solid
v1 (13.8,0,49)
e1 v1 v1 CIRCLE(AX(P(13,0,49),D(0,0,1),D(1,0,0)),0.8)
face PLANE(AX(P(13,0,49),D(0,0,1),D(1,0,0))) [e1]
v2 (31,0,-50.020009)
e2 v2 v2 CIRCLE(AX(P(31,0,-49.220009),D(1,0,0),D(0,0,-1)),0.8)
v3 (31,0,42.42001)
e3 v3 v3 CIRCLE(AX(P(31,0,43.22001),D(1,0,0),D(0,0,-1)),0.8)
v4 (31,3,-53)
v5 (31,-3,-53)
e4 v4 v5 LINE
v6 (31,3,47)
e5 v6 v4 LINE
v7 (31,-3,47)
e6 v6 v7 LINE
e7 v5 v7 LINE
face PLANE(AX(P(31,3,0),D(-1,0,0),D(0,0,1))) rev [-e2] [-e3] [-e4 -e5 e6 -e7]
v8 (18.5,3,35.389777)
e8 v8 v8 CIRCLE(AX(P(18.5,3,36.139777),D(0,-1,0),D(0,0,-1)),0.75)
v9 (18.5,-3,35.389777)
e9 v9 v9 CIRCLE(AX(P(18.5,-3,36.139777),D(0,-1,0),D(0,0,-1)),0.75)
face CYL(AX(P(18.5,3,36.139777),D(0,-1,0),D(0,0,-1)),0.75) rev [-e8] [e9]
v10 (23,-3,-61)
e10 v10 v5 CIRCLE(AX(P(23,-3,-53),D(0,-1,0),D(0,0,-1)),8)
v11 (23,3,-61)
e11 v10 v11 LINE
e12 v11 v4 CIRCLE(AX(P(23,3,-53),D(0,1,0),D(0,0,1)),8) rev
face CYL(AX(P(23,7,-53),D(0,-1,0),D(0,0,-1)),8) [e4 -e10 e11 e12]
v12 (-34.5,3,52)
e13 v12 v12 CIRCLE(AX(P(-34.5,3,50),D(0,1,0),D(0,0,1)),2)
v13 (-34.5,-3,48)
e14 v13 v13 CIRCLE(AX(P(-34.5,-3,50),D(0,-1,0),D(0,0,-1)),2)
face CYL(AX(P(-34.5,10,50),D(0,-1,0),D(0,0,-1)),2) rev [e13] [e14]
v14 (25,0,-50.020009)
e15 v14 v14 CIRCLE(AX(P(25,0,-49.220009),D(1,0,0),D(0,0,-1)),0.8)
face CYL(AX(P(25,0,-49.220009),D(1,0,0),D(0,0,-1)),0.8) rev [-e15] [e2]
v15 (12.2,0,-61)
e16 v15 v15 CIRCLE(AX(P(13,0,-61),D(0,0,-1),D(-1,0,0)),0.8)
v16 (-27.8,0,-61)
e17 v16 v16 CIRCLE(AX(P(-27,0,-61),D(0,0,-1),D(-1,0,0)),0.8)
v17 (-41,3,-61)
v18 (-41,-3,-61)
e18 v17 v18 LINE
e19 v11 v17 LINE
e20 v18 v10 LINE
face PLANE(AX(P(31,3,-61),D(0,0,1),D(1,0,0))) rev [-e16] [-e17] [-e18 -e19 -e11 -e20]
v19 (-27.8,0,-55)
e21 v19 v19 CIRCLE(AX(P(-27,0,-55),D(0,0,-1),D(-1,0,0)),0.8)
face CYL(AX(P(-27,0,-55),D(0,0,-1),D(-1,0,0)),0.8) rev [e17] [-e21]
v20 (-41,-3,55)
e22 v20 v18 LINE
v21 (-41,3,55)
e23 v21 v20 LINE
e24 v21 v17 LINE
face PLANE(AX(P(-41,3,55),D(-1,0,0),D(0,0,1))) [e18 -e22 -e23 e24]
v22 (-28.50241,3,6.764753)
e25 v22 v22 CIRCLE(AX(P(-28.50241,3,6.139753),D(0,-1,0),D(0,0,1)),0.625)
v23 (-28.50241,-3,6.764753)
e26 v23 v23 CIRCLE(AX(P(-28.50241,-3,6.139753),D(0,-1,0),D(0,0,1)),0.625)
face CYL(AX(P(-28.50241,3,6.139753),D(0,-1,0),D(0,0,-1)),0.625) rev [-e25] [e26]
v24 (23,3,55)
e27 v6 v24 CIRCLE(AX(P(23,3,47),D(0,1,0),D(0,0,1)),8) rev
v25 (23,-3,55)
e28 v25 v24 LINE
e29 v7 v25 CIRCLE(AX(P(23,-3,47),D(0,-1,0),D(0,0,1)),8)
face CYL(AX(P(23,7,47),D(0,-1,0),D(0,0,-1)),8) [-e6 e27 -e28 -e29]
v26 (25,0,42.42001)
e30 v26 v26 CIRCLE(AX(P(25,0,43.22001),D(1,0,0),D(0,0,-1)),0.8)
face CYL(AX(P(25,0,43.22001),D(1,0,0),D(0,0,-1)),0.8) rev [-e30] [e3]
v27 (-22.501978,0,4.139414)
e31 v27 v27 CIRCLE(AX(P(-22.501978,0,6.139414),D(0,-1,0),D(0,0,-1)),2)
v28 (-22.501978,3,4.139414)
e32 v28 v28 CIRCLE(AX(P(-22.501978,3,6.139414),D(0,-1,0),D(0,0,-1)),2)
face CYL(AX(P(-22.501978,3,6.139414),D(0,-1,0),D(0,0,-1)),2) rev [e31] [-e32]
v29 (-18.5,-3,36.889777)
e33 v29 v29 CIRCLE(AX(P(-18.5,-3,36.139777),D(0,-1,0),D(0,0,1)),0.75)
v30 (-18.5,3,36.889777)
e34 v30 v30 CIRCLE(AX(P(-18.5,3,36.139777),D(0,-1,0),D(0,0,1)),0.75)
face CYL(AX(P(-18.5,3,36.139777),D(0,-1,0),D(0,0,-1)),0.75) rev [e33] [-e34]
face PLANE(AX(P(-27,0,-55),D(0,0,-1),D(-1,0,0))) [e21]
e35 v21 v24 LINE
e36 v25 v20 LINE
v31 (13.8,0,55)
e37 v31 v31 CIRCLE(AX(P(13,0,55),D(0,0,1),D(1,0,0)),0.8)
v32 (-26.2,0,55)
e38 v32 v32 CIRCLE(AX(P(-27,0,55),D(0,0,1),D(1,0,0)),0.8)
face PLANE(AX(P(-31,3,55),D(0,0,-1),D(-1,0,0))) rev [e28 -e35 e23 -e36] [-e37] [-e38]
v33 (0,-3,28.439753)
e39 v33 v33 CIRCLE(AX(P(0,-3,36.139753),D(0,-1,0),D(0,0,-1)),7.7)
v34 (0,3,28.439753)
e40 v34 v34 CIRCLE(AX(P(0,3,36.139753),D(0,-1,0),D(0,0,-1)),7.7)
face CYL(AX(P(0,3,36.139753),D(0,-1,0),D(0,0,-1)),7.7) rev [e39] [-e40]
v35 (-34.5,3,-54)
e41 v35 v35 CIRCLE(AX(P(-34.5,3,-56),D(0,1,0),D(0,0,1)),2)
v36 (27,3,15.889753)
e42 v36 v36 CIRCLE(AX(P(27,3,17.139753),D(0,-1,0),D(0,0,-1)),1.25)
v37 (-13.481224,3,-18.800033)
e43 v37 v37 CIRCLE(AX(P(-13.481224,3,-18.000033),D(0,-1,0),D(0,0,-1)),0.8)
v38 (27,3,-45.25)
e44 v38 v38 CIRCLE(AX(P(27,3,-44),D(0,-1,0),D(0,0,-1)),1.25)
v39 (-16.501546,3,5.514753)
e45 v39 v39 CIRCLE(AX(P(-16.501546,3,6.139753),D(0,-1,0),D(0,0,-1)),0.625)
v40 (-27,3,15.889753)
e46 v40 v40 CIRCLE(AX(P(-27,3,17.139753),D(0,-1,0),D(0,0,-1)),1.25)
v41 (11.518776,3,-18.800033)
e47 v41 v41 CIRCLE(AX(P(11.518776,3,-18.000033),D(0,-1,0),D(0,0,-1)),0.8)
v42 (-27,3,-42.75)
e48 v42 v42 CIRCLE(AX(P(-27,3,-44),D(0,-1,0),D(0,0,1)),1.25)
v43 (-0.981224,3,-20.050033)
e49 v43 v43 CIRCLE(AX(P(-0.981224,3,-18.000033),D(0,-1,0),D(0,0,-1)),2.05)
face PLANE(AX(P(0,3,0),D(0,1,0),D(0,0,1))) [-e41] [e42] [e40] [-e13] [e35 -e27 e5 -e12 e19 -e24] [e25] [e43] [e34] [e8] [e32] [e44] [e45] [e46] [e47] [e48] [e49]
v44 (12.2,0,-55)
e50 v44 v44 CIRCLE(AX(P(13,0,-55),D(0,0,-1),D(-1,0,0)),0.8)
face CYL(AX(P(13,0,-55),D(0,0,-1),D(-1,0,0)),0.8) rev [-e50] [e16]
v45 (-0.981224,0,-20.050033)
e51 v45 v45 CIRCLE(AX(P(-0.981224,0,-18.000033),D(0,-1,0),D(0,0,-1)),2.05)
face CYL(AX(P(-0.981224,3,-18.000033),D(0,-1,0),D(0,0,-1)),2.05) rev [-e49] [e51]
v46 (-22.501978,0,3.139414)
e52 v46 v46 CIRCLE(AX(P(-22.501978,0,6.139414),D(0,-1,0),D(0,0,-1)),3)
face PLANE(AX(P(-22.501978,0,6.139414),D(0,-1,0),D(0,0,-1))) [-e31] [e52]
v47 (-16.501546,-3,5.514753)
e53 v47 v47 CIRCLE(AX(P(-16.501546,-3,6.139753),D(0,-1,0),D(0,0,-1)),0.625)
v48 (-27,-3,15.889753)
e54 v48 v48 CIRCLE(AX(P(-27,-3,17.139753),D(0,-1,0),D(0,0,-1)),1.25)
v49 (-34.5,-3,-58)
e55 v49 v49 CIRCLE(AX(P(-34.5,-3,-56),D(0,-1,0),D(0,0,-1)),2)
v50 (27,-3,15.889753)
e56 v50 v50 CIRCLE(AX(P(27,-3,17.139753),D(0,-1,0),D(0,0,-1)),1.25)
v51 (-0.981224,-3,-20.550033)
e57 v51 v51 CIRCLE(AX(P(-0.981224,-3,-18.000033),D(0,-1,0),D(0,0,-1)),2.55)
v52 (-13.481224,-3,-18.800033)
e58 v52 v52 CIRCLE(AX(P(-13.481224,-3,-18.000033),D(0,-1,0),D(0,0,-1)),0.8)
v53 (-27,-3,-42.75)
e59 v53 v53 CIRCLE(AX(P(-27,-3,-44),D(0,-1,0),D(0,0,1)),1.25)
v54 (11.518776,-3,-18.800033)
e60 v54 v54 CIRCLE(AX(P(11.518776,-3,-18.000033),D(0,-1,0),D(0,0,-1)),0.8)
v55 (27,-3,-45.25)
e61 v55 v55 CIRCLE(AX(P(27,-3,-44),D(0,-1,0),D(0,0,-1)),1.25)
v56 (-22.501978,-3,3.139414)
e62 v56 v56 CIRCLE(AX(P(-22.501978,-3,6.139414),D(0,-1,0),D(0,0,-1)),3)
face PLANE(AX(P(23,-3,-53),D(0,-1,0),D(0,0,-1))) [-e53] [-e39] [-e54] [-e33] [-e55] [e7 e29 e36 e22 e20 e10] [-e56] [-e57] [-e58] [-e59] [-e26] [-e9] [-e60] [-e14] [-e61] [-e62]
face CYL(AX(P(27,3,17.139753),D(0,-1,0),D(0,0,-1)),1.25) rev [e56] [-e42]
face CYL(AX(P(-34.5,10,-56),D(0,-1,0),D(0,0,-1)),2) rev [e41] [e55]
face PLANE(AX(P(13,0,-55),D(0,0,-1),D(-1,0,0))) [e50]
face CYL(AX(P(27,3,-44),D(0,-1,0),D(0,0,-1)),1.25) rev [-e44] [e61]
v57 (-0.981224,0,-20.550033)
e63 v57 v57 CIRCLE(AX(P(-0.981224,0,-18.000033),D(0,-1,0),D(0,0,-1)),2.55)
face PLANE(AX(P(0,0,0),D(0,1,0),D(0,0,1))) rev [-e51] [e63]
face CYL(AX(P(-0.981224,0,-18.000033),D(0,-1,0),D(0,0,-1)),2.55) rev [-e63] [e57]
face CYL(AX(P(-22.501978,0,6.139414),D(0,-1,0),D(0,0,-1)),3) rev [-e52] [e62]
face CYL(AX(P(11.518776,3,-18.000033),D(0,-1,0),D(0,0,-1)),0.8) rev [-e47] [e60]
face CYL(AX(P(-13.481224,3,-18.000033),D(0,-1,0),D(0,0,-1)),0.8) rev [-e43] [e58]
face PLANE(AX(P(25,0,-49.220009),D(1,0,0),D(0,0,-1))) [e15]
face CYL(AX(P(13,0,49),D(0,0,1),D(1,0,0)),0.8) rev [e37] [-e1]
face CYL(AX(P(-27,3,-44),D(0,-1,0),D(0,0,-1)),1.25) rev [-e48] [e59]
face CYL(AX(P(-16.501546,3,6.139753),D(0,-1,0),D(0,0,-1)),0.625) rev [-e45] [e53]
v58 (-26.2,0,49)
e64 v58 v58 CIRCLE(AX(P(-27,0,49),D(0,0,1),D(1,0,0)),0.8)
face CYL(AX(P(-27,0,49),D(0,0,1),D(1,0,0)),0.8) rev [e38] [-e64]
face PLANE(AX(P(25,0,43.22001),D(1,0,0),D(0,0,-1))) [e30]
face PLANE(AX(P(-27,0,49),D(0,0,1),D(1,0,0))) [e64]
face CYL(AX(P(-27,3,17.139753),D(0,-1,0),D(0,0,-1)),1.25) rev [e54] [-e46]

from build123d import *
from build123d.topology import SkipClean

# Parameters (mm, degrees)
SKETCH_1_W           = 20
SKETCH_1_H           = 44
EXTRUDE_1_DEPTH      = 3
SKETCH_2_R           = 0.8
CUT_EXTRUDE_1_DEPTH  = 3
SKETCH_3_W           = 21
SKETCH_3_H           = 44
EXTRUDE_3_DEPTH      = 3
SKETCH_4_W           = 62
SKETCH_4_H           = 25
EXTRUDE_4_DEPTH      = 3
SKETCH_5_R           = 2
SKETCH_5_W           = 62.003092034
SKETCH_5_H           = 2.997788852
CUT_EXTRUDE_2_DEPTH  = 3
SKETCH_6_W           = 62
SKETCH_6_H           = 20
EXTRUDE_5_DEPTH      = 3
SKETCH_7_R           = 0.8
SKETCH_7_R_2         = 0.25
CUT_EXTRUDE_4_DEPTH  = 3
SKETCH_8_R           = 0.8
EXTRUDE_6_DEPTH      = 3
CUT_EXTRUDE_5_DEPTH  = 3
SKETCH_15_R          = 1.5
CUT_EXTRUDE_6_DEPTH  = 3
SKETCH_24_W          = 62
SKETCH_24_H          = 13
EXTRUDE_7_DEPTH      = 3
SKETCH_25_W          = 62
SKETCH_25_H          = 15
SKETCH_25_R          = 1.5
EXTRUDE_8_DEPTH      = 3
SKETCH_26_R          = 1.5
CUT_EXTRUDE_7_DEPTH  = 3
SKETCH_31_R          = 1.5
EXTRUDE_10_DEPTH     = 3
SKETCH_36_R          = 7.7
CUT_EXTRUDE_12_DEPTH = 3
SKETCH_45_R          = 1.05
CUT_EXTRUDE_13_DEPTH = 3
SKETCH_50_R          = 1.999999997
CUT_EXTRUDE_14_DEPTH = 3
EXTRUDE_START        = -3
SKETCH_51_R          = 1.999999997
EXTRUDE_11_DEPTH     = 3
SKETCH_52_W          = 62
SKETCH_52_H          = 5
EXTRUDE_12_DEPTH     = 3
SKETCH_53_W          = 10
SKETCH_53_H          = 116
EXTRUDE_13_DEPTH     = 3
SKETCH_54_R          = 2
CUT_EXTRUDE_15_DEPTH = 10
CUT_EXTRUDE_17_DEPTH = 7
SKETCH_57_R          = 7.7
SKETCH_57_R_2        = 1.5
SKETCH_57_R_3        = 2
SKETCH_57_R_4        = 1.500025758
SKETCH_57_R_5        = 1.05
SKETCH_57_R_6        = 0.8
SKETCH_57_R_7        = 0.25
SKETCH_57_R_8        = 0.225
EXTRUDE_14_DEPTH     = 3
SKETCH_58_R          = 1
CUT_EXTRUDE_18_DEPTH = 6
SKETCH_59_R          = 1
CUT_EXTRUDE_19_DEPTH = 6
CUT_EXTRUDE_START    = -6
SKETCH_60_R          = 1
CUT_EXTRUDE_20_DEPTH = 6
SKETCH_61_R          = 3
CUT_EXTRUDE_21_DEPTH = 3
SKETCH_62_R          = 2
CUT_EXTRUDE_22_DEPTH = 3
SKETCH_63_R          = 2.55
CUT_EXTRUDE_23_DEPTH = 3
SKETCH_64_R          = 2.05
CUT_EXTRUDE_24_DEPTH = 3
SKETCH_65_R          = 2
EXTRUDE_15_DEPTH     = 6
SKETCH_66_R          = 1
CUT_EXTRUDE_25_DEPTH = 6
SKETCH_67_R          = 2.932086284
SKETCH_67_R_2        = 2.55
EXTRUDE_16_DEPTH     = 3
EXTRUDE_START_2      = -6
SKETCH_68_R          = 1.5
SKETCH_68_R_2        = 1.25
SKETCH_68_R_3        = 1
SKETCH_68_R_4        = 0.75
SKETCH_68_R_5        = 1.05
SKETCH_68_R_6        = 1.6
EXTRUDE_17_DEPTH     = 6
SKETCH_69_R          = 0.8
SKETCH_69_R_2        = 0.625
SKETCH_69_R_3        = 1
EXTRUDE_18_DEPTH     = 6
SKETCH_70_R          = 1
SKETCH_70_R_2        = 0.8
EXTRUDE_19_DEPTH     = 6
SKETCH_71_R          = 1
SKETCH_71_R_2        = 0.8
EXTRUDE_20_DEPTH     = 6
SKETCH_72_R          = 1
SKETCH_72_R_2        = 0.8
EXTRUDE_21_DEPTH     = 6
SKETCH_73_R          = 0.947367803
SKETCH_73_R_2        = 0.960169645
EXTRUDE_22_DEPTH     = 6
SKETCH_74_R          = 0.8
CUT_EXTRUDE_26_DEPTH = 6


with BuildPart() as part:
    # Эскиз1 → Бобышка-Вытянуть1 (new body)
    with BuildSketch(Plane(origin=(0, 0, 0), x_dir=(1, 0, 0), z_dir=(0, 1, 0))):
        Rectangle(SKETCH_1_W, SKETCH_1_H)
    extrude(amount=EXTRUDE_1_DEPTH)

    # Эскиз2 → Вырез-Вытянуть1 (cut)
    with BuildSketch(Plane(origin=(0, 3, 0), x_dir=(1, 0, 0), z_dir=(0, 1, 0))):
        with Locations(Location((6, -15, 0), (0, 0, 270))):
            Circle(SKETCH_2_R)
        with Locations(Location((-6, -15, 0), (0, 0, 270))):
            Circle(SKETCH_2_R)
    extrude(amount=-CUT_EXTRUDE_1_DEPTH, mode=Mode.SUBTRACT)

    # Эскиз3 → Бобышка-Вытянуть3 (add)
    with BuildSketch(Plane.XZ):
        with Locations((20.5, 0)):
            Rectangle(SKETCH_3_W, SKETCH_3_H)
        with Locations((-20.5, 0)):
            Rectangle(SKETCH_3_W, SKETCH_3_H)
    extrude(amount=-EXTRUDE_3_DEPTH)

    # Эскиз4 → Бобышка-Вытянуть4 (add)
    with BuildSketch(Plane(origin=(0, 0, 0), x_dir=(-1, 0, 0), z_dir=(0, -1, 0))):
        with Locations((0, 34.5)):
            Rectangle(SKETCH_4_W, SKETCH_4_H)
    extrude(amount=-EXTRUDE_4_DEPTH)

    # Эскиз5 → Вырез-Вытянуть2 (cut)
    with BuildSketch(Plane.XZ):
        with Locations(Location((22.498453983, -18, 0), (0, 0, 270))):
            Circle(SKETCH_5_R)
        with Locations(Location((-22.501546017, -18, 0), (0, 0, 90))):
            Circle(SKETCH_5_R)
        with Locations((-0.001546017, -45.501105574)):
            Rectangle(SKETCH_5_W, SKETCH_5_H)
    extrude(amount=-CUT_EXTRUDE_2_DEPTH, mode=Mode.SUBTRACT)

    # Эскиз6 → Бобышка-Вытянуть5 (add)
    with BuildSketch(Plane.XZ):
        with Locations((0, -54.002211148)):
            Rectangle(SKETCH_6_W, SKETCH_6_H)
        with Locations((0, 32)):
            Rectangle(SKETCH_6_W, SKETCH_6_H)
    extrude(amount=-EXTRUDE_5_DEPTH)

    # Эскиз7 → Вырез-Вытянуть4 (cut)
    with BuildSketch(Plane(origin=(0, 3, 0), x_dir=(1, 0, 0), z_dir=(0, 1, 0))):
        with Locations(Location((-16.501546017, -6.139753031, 0), (0, 0, 270))):
            Circle(SKETCH_7_R)
        with Locations(Location((-28.501546017, -6.139753031, 0), (0, 0, 270))):
            Circle(SKETCH_7_R)
        with Locations(Location((-21.23197804, -6.139414793, 0), (0, 0, 270))):
            Circle(SKETCH_7_R_2)
        with Locations(Location((-23.13293586, -5.037238659, 0), (0, 0, 270))):
            Circle(SKETCH_7_R_2)
        with Locations(Location((-23.13293586, -7.241590927, 0), (0, 0, 270))):
            Circle(SKETCH_7_R_2)
    extrude(amount=-CUT_EXTRUDE_4_DEPTH, mode=Mode.SUBTRACT)

    # Эскиз8 → Бобышка-Вытянуть6 (add)
    with BuildSketch(Plane(origin=(0, 3, 0), x_dir=(1, 0, 0), z_dir=(0, 1, 0))):
        with Locations((6, -15)):
            Circle(SKETCH_8_R)
        with Locations((-6, -15)):
            Circle(SKETCH_8_R)
    extrude(amount=-EXTRUDE_6_DEPTH)

    # Эскиз14 → Вырез-Вытянуть5 (cut)
    with BuildSketch(Plane(origin=(0, 3, 0), x_dir=(1, 0, 0), z_dir=(0, 1, 0))):
        Polygon((-0.001546017, -35), (-31, -35), (-31, -42), (-0.001546017, -42), (31, -42), (31, -35), align=None)
    extrude(amount=-CUT_EXTRUDE_5_DEPTH, mode=Mode.SUBTRACT)

    # Эскиз15 → Вырез-Вытянуть6 (cut)
    with BuildSketch(Plane(origin=(0, 3, 0), x_dir=(1, 0, 0), z_dir=(0, 1, 0))):
        with Locations(Location((-27, -31, 0), (0, 0, 270))):
            Circle(SKETCH_15_R)
        with Locations(Location((27, -31, 0), (0, 0, 90))):
            Circle(SKETCH_15_R)
        with Locations(Location((27, 44, 0), (0, 0, 270))):
            Circle(SKETCH_15_R)
        with Locations(Location((-27, 44, 0), (0, 0, 90))):
            Circle(SKETCH_15_R)
        Polygon((-0.001546017, 48), (31, 48), (31, 64.002211148), (-0.001546017, 64.002211148), (-31, 64.002211148), (-31, 48), align=None)
    extrude(amount=-CUT_EXTRUDE_6_DEPTH, mode=Mode.SUBTRACT)

    # Эскиз24 → Бобышка-Вытянуть7 (add)
    with BuildSketch(Plane.XZ):
        with Locations((0, -54.5)):
            Rectangle(SKETCH_24_W, SKETCH_24_H)
    extrude(amount=-EXTRUDE_7_DEPTH)

    # Эскиз25 → Бобышка-Вытянуть8 (add)
    with BuildSketch(Plane(origin=(0, 3, 0), x_dir=(1, 0, 0), z_dir=(0, 1, 0))):
        with Locations((0, -42.5)):
            Rectangle(SKETCH_25_W, SKETCH_25_H)
        with Locations(Location((27, -46, 0), (0, 0, 270))):
            Circle(SKETCH_25_R, mode=Mode.SUBTRACT)
        with Locations(Location((-27, -46, 0), (0, 0, 90))):
            Circle(SKETCH_25_R, mode=Mode.SUBTRACT)
    extrude(amount=-EXTRUDE_8_DEPTH)

    # Эскиз26 → Вырез-Вытянуть7 (cut)
    with BuildSketch(Plane(origin=(0, 3, 0), x_dir=(1, 0, 0), z_dir=(0, 1, 0))):
        with Locations(Location((-27, -17.139753031, 0), (0, 0, 270))):
            Circle(SKETCH_26_R)
        with Locations(Location((27, -17.139753031, 0), (0, 0, 270))):
            Circle(SKETCH_26_R)
    extrude(amount=-CUT_EXTRUDE_7_DEPTH, mode=Mode.SUBTRACT)

    # Эскиз31 → Бобышка-Вытянуть10 (add)
    with BuildSketch(Plane(origin=(0, 3, 0), x_dir=(1, 0, 0), z_dir=(0, 1, 0))):
        with Locations((-27, -31)):
            Circle(SKETCH_31_R)
        with Locations((27, -31)):
            Circle(SKETCH_31_R)
        with Locations((27, -46)):
            Circle(SKETCH_31_R)
        with Locations((-27, -46)):
            Circle(SKETCH_31_R)
    extrude(amount=-EXTRUDE_10_DEPTH)

    # Эскиз36 → Вырез-Вытянуть12 (cut)
    with BuildSketch(Plane.XZ):
        with Locations(Location((0, 36.139753031, 0), (0, 0, 270))):
            Circle(SKETCH_36_R)
    extrude(amount=-CUT_EXTRUDE_12_DEPTH, mode=Mode.SUBTRACT)

    # Эскиз45 → Вырез-Вытянуть13 (cut)
    with BuildSketch(Plane(origin=(0, 3, 0), x_dir=(1, 0, 0), z_dir=(0, 1, 0))):
        with Locations(Location((18.5, -36.139777203, 0), (0, 0, 270))):
            Circle(SKETCH_45_R)
        with Locations(Location((-18.5, -36.139777203, 0), (0, 0, 90))):
            Circle(SKETCH_45_R)
    extrude(amount=-CUT_EXTRUDE_13_DEPTH, mode=Mode.SUBTRACT)

    # Эскиз50 → Вырез-Вытянуть14 (cut)
    with BuildSketch(Plane(origin=(0, 3, 0), x_dir=(1, 0, 0), z_dir=(0, 1, 0))):
        with Locations(Location((26, 54.5, 0), (0, 0, 270))):
            Circle(SKETCH_50_R)
        with Locations(Location((-26.000000007, 54.5, 0), (0, 0, 90))):
            Circle(SKETCH_50_R)
    extrude(amount=-CUT_EXTRUDE_14_DEPTH, mode=Mode.SUBTRACT)

    # Эскиз51 → Бобышка-Вытянуть11 (add)
    with BuildSketch(Plane(origin=(0, 0, 0), x_dir=(-1, 0, 0), z_dir=(0, -1, 0)).offset(EXTRUDE_START)):
        with Locations((26.000000007, 54.5)):
            Circle(SKETCH_51_R)
        with Locations((-26, 54.5)):
            Circle(SKETCH_51_R)
    extrude(amount=EXTRUDE_11_DEPTH)

    # Эскиз52 → Бобышка-Вытянуть12 (add)
    with BuildSketch(Plane.XZ):
        with Locations((0, 52.5)):
            Rectangle(SKETCH_52_W, SKETCH_52_H)
    extrude(amount=-EXTRUDE_12_DEPTH)

    # Эскиз53 → Бобышка-Вытянуть13 (add)
    with BuildSketch(Plane.XZ):
        with Locations((-36, -3)):
            Rectangle(SKETCH_53_W, SKETCH_53_H)
    extrude(amount=-EXTRUDE_13_DEPTH)

    # Эскиз54 → Вырез-Вытянуть15 (cut)
    with BuildSketch(Plane.XZ):
        with Locations(Location((-34.5, 50, 0), (0, 0, 270))):
            Circle(SKETCH_54_R)
        with Locations(Location((-34.5, -56, 0), (0, 0, 90))):
            Circle(SKETCH_54_R)
    extrude(amount=-CUT_EXTRUDE_15_DEPTH, mode=Mode.SUBTRACT)

    # Эскиз55 → Вырез-Вытянуть17 (cut)
    with BuildSketch(Plane(origin=(0, 0, 0), x_dir=(-1, 0, 0), z_dir=(0, -1, 0))):
        with BuildLine():
            Line((-31, 61), (-23, 61))
            ThreePointArc((-23, 61), (-28.656854249, 58.656854249), (-31, 53))
            Line((-31, 53), (-31, 61))
        make_face()
        with BuildLine():
            Line((-31, -55), (-23, -55))
            ThreePointArc((-23, -55), (-28.656854249, -52.656854249), (-31, -47))
            Line((-31, -47), (-31, -55))
        make_face()
    extrude(amount=-CUT_EXTRUDE_17_DEPTH, mode=Mode.SUBTRACT)

    # Эскиз57 → Бобышка-Вытянуть14 (add)
    with BuildSketch(Plane.XZ):
        with BuildLine():
            Line((-41, 55), (23, 55))
            ThreePointArc((23, 55), (28.656854249, 52.656854249), (31, 47))
            Line((31, 47), (31, -53))
            ThreePointArc((31, -53), (28.656854249, -58.656854249), (23, -61))
            Line((23, -61), (-41, -61))
            Line((-41, -61), (-41, 55))
        make_face()
        with Locations(Location((0, 36.139753031, 0), (0, 0, 270))):
            Circle(SKETCH_57_R, mode=Mode.SUBTRACT)
        with Locations(Location((27, 17.139753031, 0), (0, 0, 90))):
            Circle(SKETCH_57_R_2, mode=Mode.SUBTRACT)
        with Locations(Location((-27, 17.139753031, 0), (0, 0, 90))):
            Circle(SKETCH_57_R_2, mode=Mode.SUBTRACT)
        with Locations(Location((-22.501546017, -18, 0), (0, 0, 270))):
            Circle(SKETCH_57_R_3, mode=Mode.SUBTRACT)
        with Locations(Location((22.498453983, -18, 0), (0, 0, 270))):
            Circle(SKETCH_57_R_3, mode=Mode.SUBTRACT)
        with Locations(Location((-27, -44, 0), (0, 0, 270))):
            Circle(SKETCH_57_R_4, mode=Mode.SUBTRACT)
        with Locations(Location((27, -44, 0), (0, 0, 90))):
            Circle(SKETCH_57_R_2, mode=Mode.SUBTRACT)
        with Locations(Location((-34.5, -56, 0), (0, 0, 270))):
            Circle(SKETCH_57_R_3, mode=Mode.SUBTRACT)
        with Locations(Location((-34.5, 50, 0), (0, 0, 270))):
            Circle(SKETCH_57_R_3, mode=Mode.SUBTRACT)
        with Locations(Location((-18.5, 36.139777203, 0), (0, 0, 270))):
            Circle(SKETCH_57_R_5, mode=Mode.SUBTRACT)
        with Locations(Location((18.5, 36.139777203, 0), (0, 0, 90))):
            Circle(SKETCH_57_R_5, mode=Mode.SUBTRACT)
        with Locations(Location((-16.501546017, 6.139753031, 0), (0, 0, 90))):
            Circle(SKETCH_57_R_6, mode=Mode.SUBTRACT)
        with Locations(Location((-28.501546017, 6.139753031, 0), (0, 0, 90))):
            Circle(SKETCH_57_R_6, mode=Mode.SUBTRACT)
        with Locations(Location((-23.132935794, 7.241590631, 0), (0, 0, 90.000015136))):
            Circle(SKETCH_57_R_7, mode=Mode.SUBTRACT)
        with Locations(Location((-21.231977973, 6.1394145, 0), (0, 0, 90.000015523))):
            Circle(SKETCH_57_R_7, mode=Mode.SUBTRACT)
        with Locations(Location((-23.13293579, 5.037238363, 0), (0, 0, 90.000015909))):
            Circle(SKETCH_57_R_7, mode=Mode.SUBTRACT)
        with Locations(Location((-3.521223918, -18.000032755, 0), (0, 0, 270))):
            Circle(SKETCH_57_R_8, mode=Mode.SUBTRACT)
        with Locations(Location((1.558776082, -18.000032755, 0), (0, 0, 270))):
            Circle(SKETCH_57_R_8, mode=Mode.SUBTRACT)
    extrude(amount=EXTRUDE_14_DEPTH)

    # Эскиз58 → Вырез-Вытянуть18 (cut)
    with BuildSketch(Plane(origin=(31, 0, 0), x_dir=(0, 0, -1), z_dir=(1, 0, 0))):
        with Locations((49.220009086, 0)):
            Circle(SKETCH_58_R)
        with Locations((-43.220009523, 0)):
            Circle(SKETCH_58_R)
    extrude(amount=-CUT_EXTRUDE_18_DEPTH, mode=Mode.SUBTRACT)

    # Эскиз59 → Вырез-Вытянуть19 (cut)
    with BuildSketch(Plane.XY.offset(55)):
        with Locations((13, 0)):
            Circle(SKETCH_59_R)
        with Locations((-27, 0)):
            Circle(SKETCH_59_R)
    extrude(amount=-CUT_EXTRUDE_19_DEPTH, mode=Mode.SUBTRACT)

    # Эскиз60 → Вырез-Вытянуть20 (cut)
    with BuildSketch(Plane(origin=(0, 0, -61), x_dir=(-1, 0, 0), z_dir=(0, 0, -1)).offset(CUT_EXTRUDE_START)):
        with Locations(Location((27, 0, 0), (0, 0, 180))):
            Circle(SKETCH_60_R)
        with Locations(Location((-13, 0, 0), (0, 0, 180))):
            Circle(SKETCH_60_R)
    extrude(amount=CUT_EXTRUDE_20_DEPTH, mode=Mode.SUBTRACT)

    # Эскиз61 → Вырез-Вытянуть21 (cut)
    with BuildSketch(Plane.XZ.offset(3)):
        with Locations(Location((-22.501977973, 6.139414498, 0), (0, 0, 270))):
            Circle(SKETCH_61_R)
    extrude(amount=-CUT_EXTRUDE_21_DEPTH, mode=Mode.SUBTRACT)

    # Эскиз62 → Вырез-Вытянуть22 (cut)
    with BuildSketch(Plane.XZ):
        with Locations(Location((-22.501977973, 6.139414498, 0), (0, 0, 270))):
            Circle(SKETCH_62_R)
    extrude(amount=-CUT_EXTRUDE_22_DEPTH, mode=Mode.SUBTRACT)

    # Эскиз63 → Вырез-Вытянуть23 (cut)
    with BuildSketch(Plane.XZ.offset(3)):
        with Locations((-0.981223814, -18.000033018)):
            Circle(SKETCH_63_R)
    extrude(amount=-CUT_EXTRUDE_23_DEPTH, mode=Mode.SUBTRACT)

    # Эскиз64 → Вырез-Вытянуть24 (cut)
    with BuildSketch(Plane.XZ):
        with Locations(Location((-0.981223814, -18.000033018, 0), (0, 0, 270))):
            Circle(SKETCH_64_R)
    extrude(amount=-CUT_EXTRUDE_24_DEPTH, mode=Mode.SUBTRACT)

    # Эскиз65 → Бобышка-Вытянуть15 (add)
    with BuildSketch(Plane(origin=(0, -3, 0), x_dir=(-1, 0, 0), z_dir=(0, -1, 0))):
        with Locations((22.501546017, 18)):
            Circle(SKETCH_65_R)
        with Locations((-22.498453983, 18)):
            Circle(SKETCH_65_R)
    extrude(amount=-EXTRUDE_15_DEPTH)

    # Эскиз66 → Вырез-Вытянуть25 (cut)
    with BuildSketch(Plane.XZ.offset(3)):
        with Locations(Location((10.604776186, -18.000033018, 0), (0, 0, 270))):
            Circle(SKETCH_66_R)
        with Locations(Location((-12.567223814, -18.000033018, 0), (0, 0, 90))):
            Circle(SKETCH_66_R)
    extrude(amount=-CUT_EXTRUDE_25_DEPTH, mode=Mode.SUBTRACT)

    # Эскиз67 → Бобышка-Вытянуть16 (add)
    with BuildSketch(Plane.XZ.offset(3)):
        with Locations((-0.981223814, -18.000033018)):
            Circle(SKETCH_67_R)
        with Locations(Location((-0.981223814, -18.000033018, 0), (0, 0, 270))):
            Circle(SKETCH_67_R_2, mode=Mode.SUBTRACT)
    extrude(amount=-EXTRUDE_16_DEPTH)

    # Эскиз68 → Бобышка-Вытянуть17 (add)
    # profile 1 of 8: a face of its own
    with SkipClean():  # the faces are left unmerged after this step: merging them gives an invalid solid
        with BuildSketch(Plane.XZ.offset(3).offset(EXTRUDE_START_2)):
            with Locations((27, 17.139753031)):
                Circle(SKETCH_68_R)
            with Locations(Location((27, 17.139753031, 0), (0, 0, 270))):
                Circle(SKETCH_68_R_2, mode=Mode.SUBTRACT)
        # profile 2 of 8: a face of its own
        with BuildSketch(Plane.XZ.offset(3).offset(EXTRUDE_START_2)):
            with Locations((27, -44)):
                Circle(SKETCH_68_R)
            with Locations(Location((27, -44, 0), (0, 0, 270))):
                Circle(SKETCH_68_R_2, mode=Mode.SUBTRACT)
        # profile 3 of 8: a face of its own
        with BuildSketch(Plane.XZ.offset(3).offset(EXTRUDE_START_2)):
            with Locations((-27, 17.139753031)):
                Circle(SKETCH_68_R)
            with Locations(Location((-27, 17.139753031, 0), (0, 0, 270))):
                Circle(SKETCH_68_R_2, mode=Mode.SUBTRACT)
        # profile 4 of 8: a face of its own
        with BuildSketch(Plane.XZ.offset(3).offset(EXTRUDE_START_2)):
            with Locations((10.604776186, -18.000033018)):
                Circle(SKETCH_68_R_3)
            with Locations(Location((10.604776186, -18.000033018, 0), (0, 0, 270))):
                Circle(SKETCH_68_R_4, mode=Mode.SUBTRACT)
        # profile 5 of 8: a face of its own
        with BuildSketch(Plane.XZ.offset(3).offset(EXTRUDE_START_2)):
            with Locations((-12.567223814, -18.000033018)):
                Circle(SKETCH_68_R_3)
            with Locations(Location((-12.567223814, -18.000033018, 0), (0, 0, 90))):
                Circle(SKETCH_68_R_4, mode=Mode.SUBTRACT)
        # profile 6 of 8: a face of its own
        with BuildSketch(Plane.XZ.offset(3).offset(EXTRUDE_START_2)):
            with Locations((18.5, 36.139777203)):
                Circle(SKETCH_68_R_5)
            with Locations(Location((18.5, 36.139777203, 0), (0, 0, 270))):
                Circle(SKETCH_68_R_4, mode=Mode.SUBTRACT)
        # profile 7 of 8: a face of its own
        with BuildSketch(Plane.XZ.offset(3).offset(EXTRUDE_START_2)):
            with Locations((-18.5, 36.139777203)):
                Circle(SKETCH_68_R_5)
            with Locations(Location((-18.5, 36.139777203, 0), (0, 0, 90))):
                Circle(SKETCH_68_R_4, mode=Mode.SUBTRACT)
        # profile 8 of 8: a face of its own
        with BuildSketch(Plane.XZ.offset(3).offset(EXTRUDE_START_2)):
            with Locations((-27, -44)):
                Circle(SKETCH_68_R_6)
            with Locations(Location((-27, -44, 0), (0, 0, 90))):
                Circle(SKETCH_68_R_2, mode=Mode.SUBTRACT)
        extrude(amount=EXTRUDE_17_DEPTH)

    # Эскиз69 → Бобышка-Вытянуть18 (add)
    # profile 1 of 2: a face of its own
    with SkipClean():  # the faces are left unmerged after this step: merging them gives an invalid solid
        with BuildSketch(Plane.XZ.offset(3).offset(EXTRUDE_START_2)):
            with Locations((-16.501546017, 6.139753031)):
                Circle(SKETCH_69_R)
            with Locations(Location((-16.501546017, 6.139753031, 0), (0, 0, 270))):
                Circle(SKETCH_69_R_2, mode=Mode.SUBTRACT)
        # profile 2 of 2: a face of its own
        with BuildSketch(Plane.XZ.offset(3).offset(EXTRUDE_START_2)):
            with Locations((-28.502409928, 6.139753031)):
                Circle(SKETCH_69_R_3)
            with Locations(Location((-28.502409928, 6.139753031, 0), (0, 0, 90))):
                Circle(SKETCH_69_R_2, mode=Mode.SUBTRACT)
        extrude(amount=EXTRUDE_18_DEPTH)

    # Эскиз70 → Бобышка-Вытянуть19 (add)
    # profile 1 of 2: a face of its own
    with SkipClean():  # the faces are left unmerged after this step: merging them gives an invalid solid
        with BuildSketch(Plane(origin=(0, 0, -61), x_dir=(-1, 0, 0), z_dir=(0, 0, -1)).offset(EXTRUDE_START_2)):
            with Locations(Location((-13, 0, 0), (0, 0, 180))):
                Circle(SKETCH_70_R)
            with Locations((-13, 0)):
                Circle(SKETCH_70_R_2, mode=Mode.SUBTRACT)
        # profile 2 of 2: a face of its own
        with BuildSketch(Plane(origin=(0, 0, -61), x_dir=(-1, 0, 0), z_dir=(0, 0, -1)).offset(EXTRUDE_START_2)):
            with Locations(Location((27, 0, 0), (0, 0, 180))):
                Circle(SKETCH_70_R)
            with Locations((27, 0)):
                Circle(SKETCH_70_R_2, mode=Mode.SUBTRACT)
        extrude(amount=EXTRUDE_19_DEPTH)

    # Эскиз71 → Бобышка-Вытянуть20 (add)
    # profile 1 of 2: a face of its own
    with SkipClean():  # the faces are left unmerged after this step: merging them gives an invalid solid
        with BuildSketch(Plane(origin=(31, 0, 0), x_dir=(0, 0, -1), z_dir=(1, 0, 0))):
            with Locations((-43.220009523, 0)):
                Circle(SKETCH_71_R)
            with Locations((-43.220009523, 0)):
                Circle(SKETCH_71_R_2, mode=Mode.SUBTRACT)
        # profile 2 of 2: a face of its own
        with BuildSketch(Plane(origin=(31, 0, 0), x_dir=(0, 0, -1), z_dir=(1, 0, 0))):
            with Locations((49.220009086, 0)):
                Circle(SKETCH_71_R)
            with Locations((49.220009086, 0)):
                Circle(SKETCH_71_R_2, mode=Mode.SUBTRACT)
        extrude(amount=-EXTRUDE_20_DEPTH)

    # Эскиз72 → Бобышка-Вытянуть21 (add)
    # profile 1 of 2: a face of its own
    with SkipClean():  # the faces are left unmerged after this step: merging them gives an invalid solid
        with BuildSketch(Plane.XY.offset(55)):
            with Locations((-27, 0)):
                Circle(SKETCH_72_R)
            with Locations(Location((-27, 0, 0), (0, 0, 180))):
                Circle(SKETCH_72_R_2, mode=Mode.SUBTRACT)
        # profile 2 of 2: a face of its own
        with BuildSketch(Plane.XY.offset(55)):
            with Locations((13, 0)):
                Circle(SKETCH_72_R)
            with Locations(Location((13, 0, 0), (0, 0, 180))):
                Circle(SKETCH_72_R_2, mode=Mode.SUBTRACT)
        extrude(amount=-EXTRUDE_21_DEPTH)

    # Эскиз73 → Бобышка-Вытянуть22 (add)
    with SkipClean():  # the faces are left unmerged after this step: merging them gives an invalid solid
        with BuildSketch(Plane.XZ.offset(3)):
            with Locations((-12.567223814, -18.000033018)):
                Circle(SKETCH_73_R)
            with Locations((10.604776186, -18.000033018)):
                Circle(SKETCH_73_R_2)
        extrude(amount=-EXTRUDE_22_DEPTH)

    # Эскиз74 → Вырез-Вытянуть26 (cut)
    with SkipClean():  # the faces are left unmerged after this step: merging them gives an invalid solid
        with BuildSketch(Plane.XZ.offset(3)):
            with Locations(Location((-13.481223814, -18.000033018, 0), (0, 0, 270))):
                Circle(SKETCH_74_R)
            with Locations(Location((11.518776186, -18.000033018, 0), (0, 0, 270))):
                Circle(SKETCH_74_R)
        extrude(amount=-CUT_EXTRUDE_26_DEPTH, mode=Mode.SUBTRACT)


solid = part.part
